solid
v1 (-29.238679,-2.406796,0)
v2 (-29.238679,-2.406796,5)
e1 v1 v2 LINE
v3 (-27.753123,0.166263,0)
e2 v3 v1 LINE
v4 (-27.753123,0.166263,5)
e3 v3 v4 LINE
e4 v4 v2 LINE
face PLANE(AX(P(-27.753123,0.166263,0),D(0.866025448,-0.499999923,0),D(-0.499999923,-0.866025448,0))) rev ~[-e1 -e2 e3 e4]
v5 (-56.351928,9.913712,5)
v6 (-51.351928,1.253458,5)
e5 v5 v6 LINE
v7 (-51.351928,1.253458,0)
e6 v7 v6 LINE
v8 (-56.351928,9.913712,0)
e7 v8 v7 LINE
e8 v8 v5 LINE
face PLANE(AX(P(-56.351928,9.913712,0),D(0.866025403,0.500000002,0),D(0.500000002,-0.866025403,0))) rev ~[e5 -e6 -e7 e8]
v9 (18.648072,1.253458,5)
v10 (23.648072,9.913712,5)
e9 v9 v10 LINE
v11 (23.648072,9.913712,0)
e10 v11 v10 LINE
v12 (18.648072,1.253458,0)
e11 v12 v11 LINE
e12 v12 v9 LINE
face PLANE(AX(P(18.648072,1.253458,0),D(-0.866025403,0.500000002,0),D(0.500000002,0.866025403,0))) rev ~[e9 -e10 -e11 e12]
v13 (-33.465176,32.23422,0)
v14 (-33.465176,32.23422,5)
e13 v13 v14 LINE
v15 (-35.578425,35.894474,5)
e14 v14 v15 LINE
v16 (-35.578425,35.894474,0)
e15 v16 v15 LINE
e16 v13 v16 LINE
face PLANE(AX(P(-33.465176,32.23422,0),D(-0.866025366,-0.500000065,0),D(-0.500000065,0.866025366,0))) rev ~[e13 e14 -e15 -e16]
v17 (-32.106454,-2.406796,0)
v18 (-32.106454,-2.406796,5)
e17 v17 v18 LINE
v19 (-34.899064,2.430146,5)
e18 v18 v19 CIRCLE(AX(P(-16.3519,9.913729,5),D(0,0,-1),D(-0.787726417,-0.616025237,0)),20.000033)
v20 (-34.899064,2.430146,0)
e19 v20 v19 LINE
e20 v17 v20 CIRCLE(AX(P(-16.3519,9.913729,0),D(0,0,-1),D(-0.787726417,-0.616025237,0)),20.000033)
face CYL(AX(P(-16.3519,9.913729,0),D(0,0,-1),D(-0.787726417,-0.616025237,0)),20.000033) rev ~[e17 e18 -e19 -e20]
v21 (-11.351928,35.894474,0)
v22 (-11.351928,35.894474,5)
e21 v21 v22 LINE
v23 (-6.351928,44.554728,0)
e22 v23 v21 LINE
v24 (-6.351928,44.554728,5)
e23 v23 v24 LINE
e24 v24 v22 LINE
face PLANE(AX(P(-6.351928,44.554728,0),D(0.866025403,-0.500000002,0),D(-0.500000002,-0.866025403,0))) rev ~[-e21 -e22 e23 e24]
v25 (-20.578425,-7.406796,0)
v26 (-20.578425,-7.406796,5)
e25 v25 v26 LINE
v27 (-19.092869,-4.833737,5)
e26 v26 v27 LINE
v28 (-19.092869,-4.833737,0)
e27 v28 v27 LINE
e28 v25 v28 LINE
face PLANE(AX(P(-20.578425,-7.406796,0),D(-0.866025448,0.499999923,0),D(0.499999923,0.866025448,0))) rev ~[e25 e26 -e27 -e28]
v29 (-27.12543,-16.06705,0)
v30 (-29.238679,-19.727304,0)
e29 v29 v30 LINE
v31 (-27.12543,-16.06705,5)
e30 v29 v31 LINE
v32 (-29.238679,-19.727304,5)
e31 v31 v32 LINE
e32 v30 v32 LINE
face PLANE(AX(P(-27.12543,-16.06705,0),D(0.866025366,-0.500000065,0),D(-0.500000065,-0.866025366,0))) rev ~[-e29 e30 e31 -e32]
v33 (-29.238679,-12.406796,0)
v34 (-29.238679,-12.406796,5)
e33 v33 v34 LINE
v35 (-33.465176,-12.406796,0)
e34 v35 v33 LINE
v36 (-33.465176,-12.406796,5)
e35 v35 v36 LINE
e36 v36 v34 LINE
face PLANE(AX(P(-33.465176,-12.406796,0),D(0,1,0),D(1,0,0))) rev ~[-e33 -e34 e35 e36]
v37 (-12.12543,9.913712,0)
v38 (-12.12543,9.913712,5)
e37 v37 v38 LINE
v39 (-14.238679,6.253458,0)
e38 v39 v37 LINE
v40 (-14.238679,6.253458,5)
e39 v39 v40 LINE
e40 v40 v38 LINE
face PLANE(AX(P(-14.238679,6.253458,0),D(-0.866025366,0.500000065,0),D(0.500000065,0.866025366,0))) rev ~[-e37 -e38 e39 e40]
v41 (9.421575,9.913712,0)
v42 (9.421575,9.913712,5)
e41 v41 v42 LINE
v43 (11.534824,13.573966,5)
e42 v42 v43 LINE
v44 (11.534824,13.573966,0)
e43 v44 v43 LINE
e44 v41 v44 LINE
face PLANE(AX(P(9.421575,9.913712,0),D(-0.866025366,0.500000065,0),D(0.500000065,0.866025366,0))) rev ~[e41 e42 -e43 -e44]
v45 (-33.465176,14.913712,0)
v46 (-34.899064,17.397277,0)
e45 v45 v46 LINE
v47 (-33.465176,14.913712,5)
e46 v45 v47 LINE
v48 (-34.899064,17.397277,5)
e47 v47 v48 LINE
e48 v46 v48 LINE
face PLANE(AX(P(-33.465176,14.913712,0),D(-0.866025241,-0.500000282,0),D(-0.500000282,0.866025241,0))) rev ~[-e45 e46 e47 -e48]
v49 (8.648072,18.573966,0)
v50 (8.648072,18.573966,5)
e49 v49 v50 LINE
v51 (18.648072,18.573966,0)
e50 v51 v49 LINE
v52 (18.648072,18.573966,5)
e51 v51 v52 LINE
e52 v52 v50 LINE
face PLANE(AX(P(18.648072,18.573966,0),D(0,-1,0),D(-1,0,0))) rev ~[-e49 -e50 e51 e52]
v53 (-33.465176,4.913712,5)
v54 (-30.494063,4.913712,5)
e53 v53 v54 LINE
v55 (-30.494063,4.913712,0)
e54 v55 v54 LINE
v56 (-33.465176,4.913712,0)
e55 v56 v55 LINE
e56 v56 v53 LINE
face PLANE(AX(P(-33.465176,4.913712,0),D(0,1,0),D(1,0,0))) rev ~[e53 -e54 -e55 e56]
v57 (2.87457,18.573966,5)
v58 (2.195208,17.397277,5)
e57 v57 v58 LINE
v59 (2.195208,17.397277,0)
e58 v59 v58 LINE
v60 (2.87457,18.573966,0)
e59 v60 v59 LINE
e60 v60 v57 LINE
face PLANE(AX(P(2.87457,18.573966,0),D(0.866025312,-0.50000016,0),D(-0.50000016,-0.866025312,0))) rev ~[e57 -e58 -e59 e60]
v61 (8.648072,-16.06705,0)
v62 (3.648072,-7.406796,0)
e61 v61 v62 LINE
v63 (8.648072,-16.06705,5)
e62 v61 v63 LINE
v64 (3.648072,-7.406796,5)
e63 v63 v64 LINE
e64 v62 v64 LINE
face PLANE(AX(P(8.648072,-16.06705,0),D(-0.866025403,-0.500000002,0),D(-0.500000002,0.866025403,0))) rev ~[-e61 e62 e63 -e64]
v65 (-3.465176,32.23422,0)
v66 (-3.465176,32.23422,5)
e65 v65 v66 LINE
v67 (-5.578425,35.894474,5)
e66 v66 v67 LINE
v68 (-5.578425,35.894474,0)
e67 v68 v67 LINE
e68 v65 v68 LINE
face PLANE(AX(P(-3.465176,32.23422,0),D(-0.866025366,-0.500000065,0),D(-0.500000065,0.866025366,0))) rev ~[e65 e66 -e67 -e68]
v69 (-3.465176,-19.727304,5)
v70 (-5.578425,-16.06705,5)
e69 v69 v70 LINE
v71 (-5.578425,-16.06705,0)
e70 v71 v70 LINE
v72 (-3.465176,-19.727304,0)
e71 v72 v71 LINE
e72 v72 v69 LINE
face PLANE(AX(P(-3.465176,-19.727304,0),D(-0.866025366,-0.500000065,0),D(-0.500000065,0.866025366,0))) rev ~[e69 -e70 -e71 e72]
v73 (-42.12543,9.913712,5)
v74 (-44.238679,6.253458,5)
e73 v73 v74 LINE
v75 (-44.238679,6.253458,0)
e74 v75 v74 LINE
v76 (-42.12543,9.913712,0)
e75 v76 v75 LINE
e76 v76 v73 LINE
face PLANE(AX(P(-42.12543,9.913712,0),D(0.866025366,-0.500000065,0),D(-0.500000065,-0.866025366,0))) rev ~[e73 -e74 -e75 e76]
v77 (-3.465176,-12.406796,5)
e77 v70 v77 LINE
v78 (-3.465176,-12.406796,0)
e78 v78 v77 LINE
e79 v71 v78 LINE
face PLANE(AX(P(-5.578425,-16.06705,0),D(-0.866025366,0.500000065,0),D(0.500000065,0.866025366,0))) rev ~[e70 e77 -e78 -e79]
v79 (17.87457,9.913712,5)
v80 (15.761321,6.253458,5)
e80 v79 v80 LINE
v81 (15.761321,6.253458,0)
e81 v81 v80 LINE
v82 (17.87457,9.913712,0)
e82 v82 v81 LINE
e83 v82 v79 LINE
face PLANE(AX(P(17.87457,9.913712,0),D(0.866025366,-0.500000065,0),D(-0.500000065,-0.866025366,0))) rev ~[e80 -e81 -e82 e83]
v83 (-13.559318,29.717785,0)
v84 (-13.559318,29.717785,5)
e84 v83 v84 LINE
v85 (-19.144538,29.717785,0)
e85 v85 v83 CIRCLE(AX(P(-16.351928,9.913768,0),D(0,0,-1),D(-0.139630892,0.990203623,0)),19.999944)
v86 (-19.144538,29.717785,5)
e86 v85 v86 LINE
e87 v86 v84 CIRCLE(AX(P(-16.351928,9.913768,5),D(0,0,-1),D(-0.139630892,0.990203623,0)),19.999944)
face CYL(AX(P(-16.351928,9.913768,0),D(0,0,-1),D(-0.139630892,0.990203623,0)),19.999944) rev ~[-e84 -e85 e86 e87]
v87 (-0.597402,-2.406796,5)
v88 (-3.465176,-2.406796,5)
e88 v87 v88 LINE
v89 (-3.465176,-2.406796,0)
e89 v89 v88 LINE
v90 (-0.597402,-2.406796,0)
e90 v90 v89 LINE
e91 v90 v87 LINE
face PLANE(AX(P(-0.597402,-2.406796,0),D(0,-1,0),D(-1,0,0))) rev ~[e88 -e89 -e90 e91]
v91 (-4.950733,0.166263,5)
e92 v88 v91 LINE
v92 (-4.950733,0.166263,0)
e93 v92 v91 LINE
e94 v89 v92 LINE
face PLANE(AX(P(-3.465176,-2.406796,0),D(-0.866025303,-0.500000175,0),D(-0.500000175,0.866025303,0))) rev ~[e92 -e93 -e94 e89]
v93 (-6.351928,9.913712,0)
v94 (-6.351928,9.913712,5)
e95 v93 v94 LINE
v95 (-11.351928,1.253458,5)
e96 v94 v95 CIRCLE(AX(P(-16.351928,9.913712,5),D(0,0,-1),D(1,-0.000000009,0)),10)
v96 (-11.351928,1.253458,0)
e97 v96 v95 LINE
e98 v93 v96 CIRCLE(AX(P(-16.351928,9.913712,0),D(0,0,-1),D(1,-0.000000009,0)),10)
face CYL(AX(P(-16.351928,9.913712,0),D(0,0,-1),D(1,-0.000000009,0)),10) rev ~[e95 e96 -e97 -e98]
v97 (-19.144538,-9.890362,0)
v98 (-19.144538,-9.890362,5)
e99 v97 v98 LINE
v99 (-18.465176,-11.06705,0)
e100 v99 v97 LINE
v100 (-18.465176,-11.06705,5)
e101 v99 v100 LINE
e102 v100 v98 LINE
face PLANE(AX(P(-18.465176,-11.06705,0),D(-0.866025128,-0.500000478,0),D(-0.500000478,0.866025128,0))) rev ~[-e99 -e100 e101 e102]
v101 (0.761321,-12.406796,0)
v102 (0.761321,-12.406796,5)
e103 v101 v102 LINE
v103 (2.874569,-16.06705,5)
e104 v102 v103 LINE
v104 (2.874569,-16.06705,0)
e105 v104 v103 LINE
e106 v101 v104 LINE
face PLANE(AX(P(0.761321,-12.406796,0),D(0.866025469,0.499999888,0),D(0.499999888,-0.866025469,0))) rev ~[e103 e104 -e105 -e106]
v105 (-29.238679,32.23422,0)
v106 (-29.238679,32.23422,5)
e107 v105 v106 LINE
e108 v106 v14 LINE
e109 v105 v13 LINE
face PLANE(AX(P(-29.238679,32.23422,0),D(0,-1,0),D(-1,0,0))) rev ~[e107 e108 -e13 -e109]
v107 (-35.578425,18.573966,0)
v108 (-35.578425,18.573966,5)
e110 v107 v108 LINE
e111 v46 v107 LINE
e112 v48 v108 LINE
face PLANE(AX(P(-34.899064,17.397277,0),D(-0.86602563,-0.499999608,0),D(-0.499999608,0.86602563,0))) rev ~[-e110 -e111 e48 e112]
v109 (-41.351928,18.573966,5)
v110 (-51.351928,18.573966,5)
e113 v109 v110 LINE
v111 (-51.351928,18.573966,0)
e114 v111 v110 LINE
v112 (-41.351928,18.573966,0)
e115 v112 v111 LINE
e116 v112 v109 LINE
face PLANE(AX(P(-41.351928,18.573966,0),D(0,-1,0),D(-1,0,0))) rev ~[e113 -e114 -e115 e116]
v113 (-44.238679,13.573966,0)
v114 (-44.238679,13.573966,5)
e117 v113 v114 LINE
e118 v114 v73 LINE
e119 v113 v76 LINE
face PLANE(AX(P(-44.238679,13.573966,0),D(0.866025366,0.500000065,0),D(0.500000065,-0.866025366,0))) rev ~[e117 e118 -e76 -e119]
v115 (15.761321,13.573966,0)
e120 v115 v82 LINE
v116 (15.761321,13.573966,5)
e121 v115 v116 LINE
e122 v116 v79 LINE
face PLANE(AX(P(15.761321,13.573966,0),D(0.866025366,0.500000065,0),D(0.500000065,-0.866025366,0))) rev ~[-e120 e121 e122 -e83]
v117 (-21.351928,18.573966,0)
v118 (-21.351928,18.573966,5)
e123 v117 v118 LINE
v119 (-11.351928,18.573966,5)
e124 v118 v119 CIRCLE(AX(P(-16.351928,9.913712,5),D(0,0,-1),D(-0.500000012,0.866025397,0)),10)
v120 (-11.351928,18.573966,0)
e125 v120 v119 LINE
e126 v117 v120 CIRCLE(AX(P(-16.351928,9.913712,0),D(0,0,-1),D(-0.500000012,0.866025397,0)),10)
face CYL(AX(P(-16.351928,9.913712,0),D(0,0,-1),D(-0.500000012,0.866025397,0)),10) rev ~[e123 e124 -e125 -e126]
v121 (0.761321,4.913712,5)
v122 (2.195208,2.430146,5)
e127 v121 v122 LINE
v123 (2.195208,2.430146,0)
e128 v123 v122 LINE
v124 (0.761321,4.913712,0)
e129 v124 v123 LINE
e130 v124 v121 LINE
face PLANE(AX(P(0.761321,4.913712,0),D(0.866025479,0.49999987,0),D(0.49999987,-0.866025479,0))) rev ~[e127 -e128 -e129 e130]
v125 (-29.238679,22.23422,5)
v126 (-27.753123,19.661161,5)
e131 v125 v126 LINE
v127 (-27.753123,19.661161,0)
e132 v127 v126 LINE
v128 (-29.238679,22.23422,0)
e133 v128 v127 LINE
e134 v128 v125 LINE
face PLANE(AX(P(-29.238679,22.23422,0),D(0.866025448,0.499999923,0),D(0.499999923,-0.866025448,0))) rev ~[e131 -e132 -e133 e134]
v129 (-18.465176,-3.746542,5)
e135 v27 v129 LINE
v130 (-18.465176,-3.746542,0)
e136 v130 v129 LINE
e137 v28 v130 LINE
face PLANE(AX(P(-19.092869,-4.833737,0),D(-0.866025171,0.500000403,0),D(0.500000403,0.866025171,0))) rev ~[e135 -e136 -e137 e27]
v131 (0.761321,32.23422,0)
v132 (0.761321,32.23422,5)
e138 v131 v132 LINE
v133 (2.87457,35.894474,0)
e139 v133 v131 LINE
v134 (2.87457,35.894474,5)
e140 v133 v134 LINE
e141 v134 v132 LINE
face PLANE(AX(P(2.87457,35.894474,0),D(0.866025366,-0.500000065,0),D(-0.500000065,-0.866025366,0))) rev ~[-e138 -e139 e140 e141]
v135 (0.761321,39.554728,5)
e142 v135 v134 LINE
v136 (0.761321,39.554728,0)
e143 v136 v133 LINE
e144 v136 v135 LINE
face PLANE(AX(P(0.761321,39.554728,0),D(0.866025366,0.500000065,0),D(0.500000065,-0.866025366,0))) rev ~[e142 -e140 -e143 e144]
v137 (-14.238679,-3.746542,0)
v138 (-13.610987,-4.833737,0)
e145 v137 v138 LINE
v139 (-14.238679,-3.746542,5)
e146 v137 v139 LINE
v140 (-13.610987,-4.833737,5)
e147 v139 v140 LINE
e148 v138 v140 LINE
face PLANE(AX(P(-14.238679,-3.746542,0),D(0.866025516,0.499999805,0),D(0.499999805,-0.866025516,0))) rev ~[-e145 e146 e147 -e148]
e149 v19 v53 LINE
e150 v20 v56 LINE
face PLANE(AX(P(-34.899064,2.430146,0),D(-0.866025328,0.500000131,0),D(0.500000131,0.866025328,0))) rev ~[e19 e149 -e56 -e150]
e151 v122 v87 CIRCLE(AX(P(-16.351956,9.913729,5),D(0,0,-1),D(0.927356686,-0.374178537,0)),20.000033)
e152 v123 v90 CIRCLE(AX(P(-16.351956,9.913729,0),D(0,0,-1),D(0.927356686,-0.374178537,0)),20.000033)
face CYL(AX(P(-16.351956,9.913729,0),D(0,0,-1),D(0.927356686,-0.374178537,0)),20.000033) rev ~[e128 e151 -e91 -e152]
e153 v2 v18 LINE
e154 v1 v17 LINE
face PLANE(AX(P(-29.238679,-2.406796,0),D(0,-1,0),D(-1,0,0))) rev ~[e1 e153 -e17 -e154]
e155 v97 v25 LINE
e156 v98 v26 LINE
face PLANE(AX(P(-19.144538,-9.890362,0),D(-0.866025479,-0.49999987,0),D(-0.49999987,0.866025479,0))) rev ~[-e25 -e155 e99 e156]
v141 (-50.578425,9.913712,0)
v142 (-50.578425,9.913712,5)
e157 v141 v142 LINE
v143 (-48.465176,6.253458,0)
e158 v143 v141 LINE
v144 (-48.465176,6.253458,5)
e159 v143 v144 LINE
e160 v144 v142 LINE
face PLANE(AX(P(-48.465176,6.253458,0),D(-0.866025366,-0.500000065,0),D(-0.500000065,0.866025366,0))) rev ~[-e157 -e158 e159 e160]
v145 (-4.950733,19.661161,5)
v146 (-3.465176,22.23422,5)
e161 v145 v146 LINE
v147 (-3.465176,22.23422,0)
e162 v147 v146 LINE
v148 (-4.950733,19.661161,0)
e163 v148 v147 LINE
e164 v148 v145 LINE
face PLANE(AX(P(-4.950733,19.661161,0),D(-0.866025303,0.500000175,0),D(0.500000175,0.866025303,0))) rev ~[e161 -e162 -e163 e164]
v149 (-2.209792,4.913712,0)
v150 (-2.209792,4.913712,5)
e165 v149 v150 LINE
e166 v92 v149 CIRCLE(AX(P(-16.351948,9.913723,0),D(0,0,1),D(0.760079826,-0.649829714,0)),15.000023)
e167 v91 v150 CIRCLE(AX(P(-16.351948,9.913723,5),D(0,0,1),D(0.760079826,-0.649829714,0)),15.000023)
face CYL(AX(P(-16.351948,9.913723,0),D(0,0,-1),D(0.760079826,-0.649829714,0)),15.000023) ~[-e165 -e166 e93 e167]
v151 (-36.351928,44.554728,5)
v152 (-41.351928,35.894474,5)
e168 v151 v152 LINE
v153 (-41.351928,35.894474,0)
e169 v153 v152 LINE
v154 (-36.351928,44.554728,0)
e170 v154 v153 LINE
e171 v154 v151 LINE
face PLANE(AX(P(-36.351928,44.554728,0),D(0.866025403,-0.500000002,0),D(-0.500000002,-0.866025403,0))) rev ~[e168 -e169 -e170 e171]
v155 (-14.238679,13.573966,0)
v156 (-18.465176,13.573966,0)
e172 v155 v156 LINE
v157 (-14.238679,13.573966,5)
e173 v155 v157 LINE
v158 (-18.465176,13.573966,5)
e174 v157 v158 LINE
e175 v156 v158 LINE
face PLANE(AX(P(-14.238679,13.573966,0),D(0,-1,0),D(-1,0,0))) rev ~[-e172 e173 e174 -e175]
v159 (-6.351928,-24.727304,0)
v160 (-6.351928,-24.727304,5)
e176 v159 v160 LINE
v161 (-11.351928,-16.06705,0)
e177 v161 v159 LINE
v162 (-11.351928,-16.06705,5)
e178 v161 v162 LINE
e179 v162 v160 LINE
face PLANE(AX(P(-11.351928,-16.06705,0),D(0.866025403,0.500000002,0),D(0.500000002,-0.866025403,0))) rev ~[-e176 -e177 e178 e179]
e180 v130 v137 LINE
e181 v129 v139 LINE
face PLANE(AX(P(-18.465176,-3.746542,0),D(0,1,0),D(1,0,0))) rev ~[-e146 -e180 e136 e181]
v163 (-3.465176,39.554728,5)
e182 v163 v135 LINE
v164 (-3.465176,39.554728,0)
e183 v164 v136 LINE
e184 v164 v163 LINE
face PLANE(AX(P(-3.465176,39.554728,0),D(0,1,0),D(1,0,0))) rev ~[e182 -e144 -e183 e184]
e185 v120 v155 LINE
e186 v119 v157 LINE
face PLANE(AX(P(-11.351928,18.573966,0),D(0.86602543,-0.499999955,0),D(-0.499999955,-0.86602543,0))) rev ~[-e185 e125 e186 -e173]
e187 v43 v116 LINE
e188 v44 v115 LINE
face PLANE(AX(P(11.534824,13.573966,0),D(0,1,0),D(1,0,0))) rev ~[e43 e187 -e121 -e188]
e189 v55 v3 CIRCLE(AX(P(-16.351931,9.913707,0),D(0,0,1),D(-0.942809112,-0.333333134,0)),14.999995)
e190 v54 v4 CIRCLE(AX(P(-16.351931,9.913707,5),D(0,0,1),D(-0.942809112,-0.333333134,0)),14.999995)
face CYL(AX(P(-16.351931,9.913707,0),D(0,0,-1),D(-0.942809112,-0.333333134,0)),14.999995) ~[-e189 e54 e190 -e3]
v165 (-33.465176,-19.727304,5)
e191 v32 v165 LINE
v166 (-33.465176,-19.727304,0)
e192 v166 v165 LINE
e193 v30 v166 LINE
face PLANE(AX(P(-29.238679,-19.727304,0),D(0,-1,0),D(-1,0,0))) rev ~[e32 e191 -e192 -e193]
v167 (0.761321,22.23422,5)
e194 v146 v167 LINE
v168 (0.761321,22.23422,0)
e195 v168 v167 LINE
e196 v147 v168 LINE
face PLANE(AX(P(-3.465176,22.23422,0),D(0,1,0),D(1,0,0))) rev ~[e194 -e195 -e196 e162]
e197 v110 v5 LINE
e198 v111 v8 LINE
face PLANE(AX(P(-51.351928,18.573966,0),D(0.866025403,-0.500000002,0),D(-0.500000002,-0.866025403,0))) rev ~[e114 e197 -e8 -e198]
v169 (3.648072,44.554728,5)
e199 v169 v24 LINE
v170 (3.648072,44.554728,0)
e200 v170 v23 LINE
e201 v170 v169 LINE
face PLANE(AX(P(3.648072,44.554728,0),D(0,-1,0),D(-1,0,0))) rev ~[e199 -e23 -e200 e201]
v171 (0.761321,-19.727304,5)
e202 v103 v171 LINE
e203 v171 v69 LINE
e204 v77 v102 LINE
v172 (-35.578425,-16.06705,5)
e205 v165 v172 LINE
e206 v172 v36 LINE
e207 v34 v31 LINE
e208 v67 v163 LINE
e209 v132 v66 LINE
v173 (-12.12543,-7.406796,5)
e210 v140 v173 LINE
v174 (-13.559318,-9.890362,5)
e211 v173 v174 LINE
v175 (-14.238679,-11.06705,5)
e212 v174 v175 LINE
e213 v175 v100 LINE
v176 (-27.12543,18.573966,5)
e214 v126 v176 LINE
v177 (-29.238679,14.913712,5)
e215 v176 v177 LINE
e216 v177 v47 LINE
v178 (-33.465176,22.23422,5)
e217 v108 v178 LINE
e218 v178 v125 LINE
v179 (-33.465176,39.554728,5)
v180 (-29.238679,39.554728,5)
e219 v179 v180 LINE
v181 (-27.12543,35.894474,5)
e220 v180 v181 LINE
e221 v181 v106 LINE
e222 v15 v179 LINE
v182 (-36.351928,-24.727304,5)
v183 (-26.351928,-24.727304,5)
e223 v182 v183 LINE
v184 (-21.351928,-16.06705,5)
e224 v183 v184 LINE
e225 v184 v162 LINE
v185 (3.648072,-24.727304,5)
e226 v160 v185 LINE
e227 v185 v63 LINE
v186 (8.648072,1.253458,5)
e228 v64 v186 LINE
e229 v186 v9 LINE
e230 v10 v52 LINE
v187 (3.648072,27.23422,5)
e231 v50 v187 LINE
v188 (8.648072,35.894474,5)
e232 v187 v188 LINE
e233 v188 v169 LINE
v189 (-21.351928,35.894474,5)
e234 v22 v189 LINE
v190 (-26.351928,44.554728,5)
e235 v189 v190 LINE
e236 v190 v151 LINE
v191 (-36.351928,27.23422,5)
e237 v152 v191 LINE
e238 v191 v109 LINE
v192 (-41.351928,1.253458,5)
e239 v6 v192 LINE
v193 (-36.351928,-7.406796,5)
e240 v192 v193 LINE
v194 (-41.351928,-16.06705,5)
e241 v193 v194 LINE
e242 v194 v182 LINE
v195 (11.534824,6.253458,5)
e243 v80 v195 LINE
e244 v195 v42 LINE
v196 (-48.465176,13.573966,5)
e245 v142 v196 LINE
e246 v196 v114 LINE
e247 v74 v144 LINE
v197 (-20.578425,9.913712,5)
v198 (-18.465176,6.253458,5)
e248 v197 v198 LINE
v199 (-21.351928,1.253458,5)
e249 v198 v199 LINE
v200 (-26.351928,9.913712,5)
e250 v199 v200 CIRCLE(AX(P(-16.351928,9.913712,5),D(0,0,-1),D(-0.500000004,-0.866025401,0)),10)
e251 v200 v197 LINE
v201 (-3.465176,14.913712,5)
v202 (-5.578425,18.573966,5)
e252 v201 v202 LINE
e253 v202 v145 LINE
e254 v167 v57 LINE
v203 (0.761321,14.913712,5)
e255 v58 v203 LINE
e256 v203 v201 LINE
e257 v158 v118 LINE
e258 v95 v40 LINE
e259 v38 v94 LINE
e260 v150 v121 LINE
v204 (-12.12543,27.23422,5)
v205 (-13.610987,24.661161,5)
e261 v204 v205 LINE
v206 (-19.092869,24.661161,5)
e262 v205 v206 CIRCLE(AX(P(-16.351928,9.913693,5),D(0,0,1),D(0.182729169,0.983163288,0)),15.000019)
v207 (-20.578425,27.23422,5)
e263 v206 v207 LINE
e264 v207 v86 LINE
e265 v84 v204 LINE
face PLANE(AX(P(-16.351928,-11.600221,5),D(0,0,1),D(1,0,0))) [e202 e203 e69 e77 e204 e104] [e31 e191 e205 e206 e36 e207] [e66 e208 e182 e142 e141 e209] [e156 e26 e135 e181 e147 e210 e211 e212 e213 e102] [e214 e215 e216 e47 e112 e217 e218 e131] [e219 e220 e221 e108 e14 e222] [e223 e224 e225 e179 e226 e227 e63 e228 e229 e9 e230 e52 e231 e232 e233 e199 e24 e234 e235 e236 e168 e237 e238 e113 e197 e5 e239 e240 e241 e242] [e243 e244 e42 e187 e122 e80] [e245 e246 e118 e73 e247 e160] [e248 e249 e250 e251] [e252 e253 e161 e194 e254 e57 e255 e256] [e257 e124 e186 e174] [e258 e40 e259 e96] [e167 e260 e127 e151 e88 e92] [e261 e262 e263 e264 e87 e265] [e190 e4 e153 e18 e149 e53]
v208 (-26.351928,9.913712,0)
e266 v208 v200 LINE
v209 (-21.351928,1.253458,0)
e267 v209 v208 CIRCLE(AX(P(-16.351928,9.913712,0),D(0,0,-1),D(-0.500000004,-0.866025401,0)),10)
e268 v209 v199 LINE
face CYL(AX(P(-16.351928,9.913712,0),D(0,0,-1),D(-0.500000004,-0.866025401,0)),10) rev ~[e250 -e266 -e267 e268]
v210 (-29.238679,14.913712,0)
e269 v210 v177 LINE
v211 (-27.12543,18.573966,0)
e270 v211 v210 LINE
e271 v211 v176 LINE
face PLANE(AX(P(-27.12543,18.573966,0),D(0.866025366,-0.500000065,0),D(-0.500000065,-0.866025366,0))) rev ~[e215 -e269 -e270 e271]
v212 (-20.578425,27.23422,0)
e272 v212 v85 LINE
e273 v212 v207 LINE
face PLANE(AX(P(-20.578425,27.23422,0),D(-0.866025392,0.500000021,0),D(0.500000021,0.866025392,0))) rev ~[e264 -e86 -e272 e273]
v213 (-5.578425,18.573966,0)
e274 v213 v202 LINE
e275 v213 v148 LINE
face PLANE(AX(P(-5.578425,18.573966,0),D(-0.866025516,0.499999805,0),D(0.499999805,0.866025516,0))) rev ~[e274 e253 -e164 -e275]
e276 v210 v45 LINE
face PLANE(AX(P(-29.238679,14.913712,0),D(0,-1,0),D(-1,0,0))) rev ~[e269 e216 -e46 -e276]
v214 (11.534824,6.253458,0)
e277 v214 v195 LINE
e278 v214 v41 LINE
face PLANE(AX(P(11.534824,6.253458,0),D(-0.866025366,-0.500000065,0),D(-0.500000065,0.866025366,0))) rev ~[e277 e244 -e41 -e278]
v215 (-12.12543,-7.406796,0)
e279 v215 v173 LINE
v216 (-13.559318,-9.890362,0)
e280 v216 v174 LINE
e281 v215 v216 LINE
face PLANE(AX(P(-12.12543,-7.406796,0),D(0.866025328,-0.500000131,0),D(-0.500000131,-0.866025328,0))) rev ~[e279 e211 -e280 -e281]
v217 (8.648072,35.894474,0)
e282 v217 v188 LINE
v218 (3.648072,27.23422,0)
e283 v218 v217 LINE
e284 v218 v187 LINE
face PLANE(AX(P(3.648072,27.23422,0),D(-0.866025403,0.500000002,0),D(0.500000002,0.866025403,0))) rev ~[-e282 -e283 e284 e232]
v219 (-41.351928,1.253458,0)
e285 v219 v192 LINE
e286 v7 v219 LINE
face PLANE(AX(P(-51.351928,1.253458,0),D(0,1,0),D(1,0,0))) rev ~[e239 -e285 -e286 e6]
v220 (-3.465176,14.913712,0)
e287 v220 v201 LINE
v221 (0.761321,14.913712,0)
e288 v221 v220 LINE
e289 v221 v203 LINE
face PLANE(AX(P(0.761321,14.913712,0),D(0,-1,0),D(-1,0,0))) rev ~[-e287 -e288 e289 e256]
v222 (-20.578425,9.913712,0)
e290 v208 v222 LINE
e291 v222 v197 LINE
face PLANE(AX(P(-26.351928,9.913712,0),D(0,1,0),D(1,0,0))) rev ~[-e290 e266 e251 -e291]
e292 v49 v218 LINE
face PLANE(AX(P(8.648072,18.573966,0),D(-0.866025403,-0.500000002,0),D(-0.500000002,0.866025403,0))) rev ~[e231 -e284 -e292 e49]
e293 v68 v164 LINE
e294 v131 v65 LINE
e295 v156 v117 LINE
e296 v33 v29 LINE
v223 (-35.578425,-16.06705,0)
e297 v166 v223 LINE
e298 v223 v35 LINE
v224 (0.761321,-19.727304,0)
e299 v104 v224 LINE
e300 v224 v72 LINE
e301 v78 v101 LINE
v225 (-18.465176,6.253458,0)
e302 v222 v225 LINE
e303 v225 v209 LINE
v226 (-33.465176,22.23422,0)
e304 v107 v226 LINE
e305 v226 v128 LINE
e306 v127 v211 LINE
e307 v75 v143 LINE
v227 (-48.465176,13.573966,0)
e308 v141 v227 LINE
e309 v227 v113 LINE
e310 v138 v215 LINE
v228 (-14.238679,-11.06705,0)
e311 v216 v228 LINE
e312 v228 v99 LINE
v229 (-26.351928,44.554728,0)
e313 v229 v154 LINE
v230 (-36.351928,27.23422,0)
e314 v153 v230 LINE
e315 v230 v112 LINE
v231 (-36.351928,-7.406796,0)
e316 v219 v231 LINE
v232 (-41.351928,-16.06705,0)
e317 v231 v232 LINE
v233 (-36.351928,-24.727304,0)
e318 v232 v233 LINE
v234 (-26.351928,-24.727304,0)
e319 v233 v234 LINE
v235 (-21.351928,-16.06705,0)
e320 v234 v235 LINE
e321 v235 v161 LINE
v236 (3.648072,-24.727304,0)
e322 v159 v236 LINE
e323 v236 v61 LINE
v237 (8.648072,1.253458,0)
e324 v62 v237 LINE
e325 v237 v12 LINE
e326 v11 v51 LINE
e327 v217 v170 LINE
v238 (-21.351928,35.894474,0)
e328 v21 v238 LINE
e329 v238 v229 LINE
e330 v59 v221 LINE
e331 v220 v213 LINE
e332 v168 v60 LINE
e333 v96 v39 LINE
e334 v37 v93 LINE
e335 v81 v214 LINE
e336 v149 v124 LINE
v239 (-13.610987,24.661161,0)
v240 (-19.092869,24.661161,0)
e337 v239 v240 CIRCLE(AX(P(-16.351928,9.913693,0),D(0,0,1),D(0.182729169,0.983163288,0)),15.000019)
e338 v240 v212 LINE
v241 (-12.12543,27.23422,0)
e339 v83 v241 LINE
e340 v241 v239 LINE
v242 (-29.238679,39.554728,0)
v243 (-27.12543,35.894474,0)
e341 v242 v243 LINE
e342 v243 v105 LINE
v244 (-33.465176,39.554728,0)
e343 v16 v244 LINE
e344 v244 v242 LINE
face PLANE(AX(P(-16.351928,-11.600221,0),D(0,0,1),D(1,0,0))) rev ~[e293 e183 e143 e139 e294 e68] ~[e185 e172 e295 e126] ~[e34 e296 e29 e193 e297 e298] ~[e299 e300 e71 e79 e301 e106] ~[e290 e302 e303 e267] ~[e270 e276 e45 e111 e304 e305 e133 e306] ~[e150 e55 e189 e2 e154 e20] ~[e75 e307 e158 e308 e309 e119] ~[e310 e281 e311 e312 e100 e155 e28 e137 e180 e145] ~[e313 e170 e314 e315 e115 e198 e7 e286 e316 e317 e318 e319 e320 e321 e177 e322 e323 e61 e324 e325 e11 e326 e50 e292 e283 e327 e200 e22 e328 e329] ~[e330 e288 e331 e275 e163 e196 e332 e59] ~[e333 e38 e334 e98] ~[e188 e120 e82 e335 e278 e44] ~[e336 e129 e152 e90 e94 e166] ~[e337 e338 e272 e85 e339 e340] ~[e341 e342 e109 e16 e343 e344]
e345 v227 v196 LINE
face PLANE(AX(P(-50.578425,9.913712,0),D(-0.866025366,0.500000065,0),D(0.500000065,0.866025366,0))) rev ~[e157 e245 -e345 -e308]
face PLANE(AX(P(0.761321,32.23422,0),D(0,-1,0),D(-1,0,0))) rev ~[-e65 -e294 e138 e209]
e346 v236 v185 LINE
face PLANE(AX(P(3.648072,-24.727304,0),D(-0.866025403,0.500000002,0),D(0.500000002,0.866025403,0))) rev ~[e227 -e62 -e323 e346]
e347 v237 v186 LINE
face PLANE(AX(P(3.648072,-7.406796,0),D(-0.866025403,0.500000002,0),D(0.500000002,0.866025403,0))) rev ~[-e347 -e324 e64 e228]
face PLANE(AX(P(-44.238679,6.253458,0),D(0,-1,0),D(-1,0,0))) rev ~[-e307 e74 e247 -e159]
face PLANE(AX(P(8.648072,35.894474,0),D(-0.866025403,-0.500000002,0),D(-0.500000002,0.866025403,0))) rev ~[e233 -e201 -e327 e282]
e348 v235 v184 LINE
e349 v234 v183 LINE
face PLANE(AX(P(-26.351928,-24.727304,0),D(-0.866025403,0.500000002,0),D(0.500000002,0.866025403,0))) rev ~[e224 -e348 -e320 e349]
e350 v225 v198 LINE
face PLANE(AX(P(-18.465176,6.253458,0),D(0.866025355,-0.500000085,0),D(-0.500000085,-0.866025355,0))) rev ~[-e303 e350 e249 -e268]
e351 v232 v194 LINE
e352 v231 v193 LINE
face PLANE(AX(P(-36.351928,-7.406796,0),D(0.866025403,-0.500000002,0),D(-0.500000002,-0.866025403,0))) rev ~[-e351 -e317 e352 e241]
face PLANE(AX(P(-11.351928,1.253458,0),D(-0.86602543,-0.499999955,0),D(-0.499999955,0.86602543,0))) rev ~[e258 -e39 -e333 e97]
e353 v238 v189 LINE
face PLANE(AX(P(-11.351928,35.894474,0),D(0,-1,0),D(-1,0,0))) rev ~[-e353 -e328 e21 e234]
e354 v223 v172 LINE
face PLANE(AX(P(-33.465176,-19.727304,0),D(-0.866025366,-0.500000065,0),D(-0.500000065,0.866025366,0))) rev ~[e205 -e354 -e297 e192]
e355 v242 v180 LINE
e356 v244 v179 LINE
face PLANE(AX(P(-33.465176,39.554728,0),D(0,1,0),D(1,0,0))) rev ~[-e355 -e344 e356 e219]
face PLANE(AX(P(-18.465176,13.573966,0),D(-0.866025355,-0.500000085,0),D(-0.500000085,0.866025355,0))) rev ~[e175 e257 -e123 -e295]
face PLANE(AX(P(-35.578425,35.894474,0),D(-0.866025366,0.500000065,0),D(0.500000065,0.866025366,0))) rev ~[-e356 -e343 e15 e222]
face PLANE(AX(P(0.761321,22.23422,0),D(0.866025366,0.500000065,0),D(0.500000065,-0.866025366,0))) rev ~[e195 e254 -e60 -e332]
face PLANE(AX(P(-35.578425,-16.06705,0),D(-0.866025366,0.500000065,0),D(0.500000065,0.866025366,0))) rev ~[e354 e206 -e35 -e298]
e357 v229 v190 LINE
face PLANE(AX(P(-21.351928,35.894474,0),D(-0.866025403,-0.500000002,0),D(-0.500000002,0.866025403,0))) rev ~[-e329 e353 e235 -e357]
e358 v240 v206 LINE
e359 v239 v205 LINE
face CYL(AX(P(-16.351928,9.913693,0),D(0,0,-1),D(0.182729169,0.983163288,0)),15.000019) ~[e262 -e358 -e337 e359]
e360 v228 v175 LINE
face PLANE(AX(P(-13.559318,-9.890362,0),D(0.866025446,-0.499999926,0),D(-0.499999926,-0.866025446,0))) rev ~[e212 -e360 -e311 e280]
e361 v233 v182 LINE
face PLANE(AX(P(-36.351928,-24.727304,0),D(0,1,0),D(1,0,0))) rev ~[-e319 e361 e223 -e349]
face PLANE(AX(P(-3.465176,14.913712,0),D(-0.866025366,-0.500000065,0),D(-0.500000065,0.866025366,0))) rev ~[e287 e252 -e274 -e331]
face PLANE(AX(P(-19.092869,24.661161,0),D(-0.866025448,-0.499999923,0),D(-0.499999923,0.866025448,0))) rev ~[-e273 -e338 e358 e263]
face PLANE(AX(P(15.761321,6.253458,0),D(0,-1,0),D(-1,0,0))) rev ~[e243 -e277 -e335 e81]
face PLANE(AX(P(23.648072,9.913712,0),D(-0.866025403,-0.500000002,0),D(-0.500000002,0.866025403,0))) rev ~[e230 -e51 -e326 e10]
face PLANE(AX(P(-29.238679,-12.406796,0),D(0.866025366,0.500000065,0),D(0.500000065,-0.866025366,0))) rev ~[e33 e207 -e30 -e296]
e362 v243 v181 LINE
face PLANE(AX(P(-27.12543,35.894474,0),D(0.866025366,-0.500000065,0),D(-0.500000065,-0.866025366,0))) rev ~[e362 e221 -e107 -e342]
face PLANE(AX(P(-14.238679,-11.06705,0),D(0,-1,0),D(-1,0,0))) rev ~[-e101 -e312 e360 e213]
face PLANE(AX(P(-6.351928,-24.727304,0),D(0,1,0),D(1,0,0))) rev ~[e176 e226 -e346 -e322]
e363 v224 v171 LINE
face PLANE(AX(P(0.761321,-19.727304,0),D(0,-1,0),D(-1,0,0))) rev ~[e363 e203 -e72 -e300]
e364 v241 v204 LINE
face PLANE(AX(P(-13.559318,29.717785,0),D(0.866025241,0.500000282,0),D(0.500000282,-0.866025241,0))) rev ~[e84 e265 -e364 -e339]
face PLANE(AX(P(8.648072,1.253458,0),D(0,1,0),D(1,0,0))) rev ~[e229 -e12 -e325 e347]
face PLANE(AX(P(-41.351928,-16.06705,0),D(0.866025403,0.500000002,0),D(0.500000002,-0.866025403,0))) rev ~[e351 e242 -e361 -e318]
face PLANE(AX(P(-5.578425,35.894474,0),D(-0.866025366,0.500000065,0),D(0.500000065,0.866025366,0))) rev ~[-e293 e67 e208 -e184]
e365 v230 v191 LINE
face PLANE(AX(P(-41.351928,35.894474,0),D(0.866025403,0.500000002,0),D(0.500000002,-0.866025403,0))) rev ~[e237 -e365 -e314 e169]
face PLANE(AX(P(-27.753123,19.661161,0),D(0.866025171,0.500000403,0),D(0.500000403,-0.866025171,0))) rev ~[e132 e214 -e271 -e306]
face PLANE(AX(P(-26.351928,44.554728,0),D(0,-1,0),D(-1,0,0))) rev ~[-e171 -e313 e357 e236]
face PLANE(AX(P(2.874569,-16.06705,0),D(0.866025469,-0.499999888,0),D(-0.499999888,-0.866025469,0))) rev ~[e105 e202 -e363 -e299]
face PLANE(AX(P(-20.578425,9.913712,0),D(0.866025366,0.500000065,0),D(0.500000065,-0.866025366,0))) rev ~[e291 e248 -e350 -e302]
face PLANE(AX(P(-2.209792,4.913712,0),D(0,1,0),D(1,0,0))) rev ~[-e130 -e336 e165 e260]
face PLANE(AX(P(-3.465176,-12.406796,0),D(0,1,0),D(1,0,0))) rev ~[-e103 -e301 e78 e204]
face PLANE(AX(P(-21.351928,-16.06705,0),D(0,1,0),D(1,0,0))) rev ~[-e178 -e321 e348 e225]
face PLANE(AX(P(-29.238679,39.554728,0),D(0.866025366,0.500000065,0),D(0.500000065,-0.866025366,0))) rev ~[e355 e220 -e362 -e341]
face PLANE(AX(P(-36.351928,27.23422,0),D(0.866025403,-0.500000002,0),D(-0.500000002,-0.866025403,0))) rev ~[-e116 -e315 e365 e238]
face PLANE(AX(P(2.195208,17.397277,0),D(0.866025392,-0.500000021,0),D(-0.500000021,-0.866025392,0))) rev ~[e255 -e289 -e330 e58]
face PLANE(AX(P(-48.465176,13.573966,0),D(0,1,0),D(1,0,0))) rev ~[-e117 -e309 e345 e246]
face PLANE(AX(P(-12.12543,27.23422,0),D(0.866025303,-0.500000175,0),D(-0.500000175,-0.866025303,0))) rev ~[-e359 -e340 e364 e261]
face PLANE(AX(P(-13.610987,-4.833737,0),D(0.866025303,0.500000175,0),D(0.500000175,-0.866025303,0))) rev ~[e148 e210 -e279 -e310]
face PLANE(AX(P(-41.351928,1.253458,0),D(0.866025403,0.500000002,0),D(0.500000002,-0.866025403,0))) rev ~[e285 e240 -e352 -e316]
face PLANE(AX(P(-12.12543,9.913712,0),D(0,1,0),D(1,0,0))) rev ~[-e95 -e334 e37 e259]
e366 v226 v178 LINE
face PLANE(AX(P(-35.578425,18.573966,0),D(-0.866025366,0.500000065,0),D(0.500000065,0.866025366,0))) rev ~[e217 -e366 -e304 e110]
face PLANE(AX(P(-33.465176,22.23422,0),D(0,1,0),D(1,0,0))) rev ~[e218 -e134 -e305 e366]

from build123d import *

# Parameters (mm, degrees)
F1_DEPTH = 5


with BuildPart() as f1:
    # F0 (on Top) → F1 (new body)
    with BuildSketch(Plane.XY):
        with BuildLine():
            Line((-11.351928, -16.06705), (-6.351928, -7.406796))
            ThreePointArc((-6.351928, -7.406796), (-9.836197, -8.995155), (-13.559318, -9.890362))
            Line((-13.559318, -9.890362), (-14.238679, -11.06705))
            Line((-14.238679, -11.06705), (-18.465176, -11.06705))
            Line((-18.465176, -11.06705), (-19.144538, -9.890362))
            ThreePointArc((-19.144538, -9.890362), (-22.867658, -8.995155), (-26.351928, -7.406796))
            Line((-26.351928, -7.406796), (-21.351928, -16.06705))
            Line((-21.351928, -16.06705), (-11.351928, -16.06705))
        make_face()
        Polygon((-21.351928, 18.573966), (-26.351928, 9.913712), (-20.578425, 9.913712), (-18.465176, 13.573966), align=None)
        with BuildLine():
            Line((-41.351928, 18.573966), (-36.351928, 9.913712))
            ThreePointArc((-36.351928, 9.913712), (-35.985352, 13.725357), (-34.899064, 17.397277))
            Line((-34.899064, 17.397277), (-35.578425, 18.573966))
            Line((-35.578425, 18.573966), (-33.465176, 22.23422))
            Line((-33.465176, 22.23422), (-32.106454, 22.23422))
            ThreePointArc((-32.106454, 22.23422), (-29.469622, 25.010934), (-26.351928, 27.23422))
            Line((-26.351928, 27.23422), (-36.351928, 27.23422))
            Line((-36.351928, 27.23422), (-41.351928, 18.573966))
        make_face()
        Polygon((-36.351928, 27.23422), (-26.351928, 27.23422), (-21.351928, 35.894474), (-26.351928, 44.554728), (-36.351928, 44.554728), (-41.351928, 35.894474), align=None)
        Polygon((-33.465176, 39.554728), (-29.238679, 39.554728), (-27.12543, 35.894474), (-29.238679, 32.23422), (-33.465176, 32.23422), (-35.578425, 35.894474), align=None, mode=Mode.SUBTRACT)
        Polygon((-41.351928, 1.253458), (-36.351928, 9.913712), (-41.351928, 18.573966), (-51.351928, 18.573966), (-56.351928, 9.913712), (-51.351928, 1.253458), align=None)
        Polygon((-50.578425, 9.913712), (-48.465176, 13.573966), (-44.238679, 13.573966), (-42.12543, 9.913712), (-44.238679, 6.253458), (-48.465176, 6.253458), align=None, mode=Mode.SUBTRACT)
        with BuildLine():
            ThreePointArc((-11.351928, 18.573966), (-7.691674, 14.913712), (-6.351928, 9.913712))
            Line((-6.351928, 9.913712), (-1.351928, 9.913712))
            ThreePointArc((-1.351928, 9.913712), (-1.567949, 12.450242), (-2.209792, 14.913712))
            Line((-2.209792, 14.913712), (-3.465176, 14.913712))
            Line((-3.465176, 14.913712), (-5.578425, 18.573966))
            Line((-5.578425, 18.573966), (-4.950733, 19.661161))
            ThreePointArc((-4.950733, 19.661161), (-6.763239, 21.448748), (-8.851928, 22.904093))
            Line((-8.851928, 22.904093), (-11.351928, 18.573966))
        make_face()
        Polygon((-11.351928, 35.894474), (-6.351928, 27.23422), (3.648072, 27.23422), (8.648072, 35.894474), (3.648072, 44.554728), (-6.351928, 44.554728), align=None)
        Polygon((-5.578425, 35.894474), (-3.465176, 39.554728), (0.761321, 39.554728), (2.87457, 35.894474), (0.761321, 32.23422), (-3.465176, 32.23422), align=None, mode=Mode.SUBTRACT)
        Polygon((8.648072, 18.573966), (3.648072, 9.913712), (8.648072, 1.253458), (18.648072, 1.253458), (23.648072, 9.913712), (18.648072, 18.573966), align=None)
        Polygon((15.761321, 13.573966), (17.87457, 9.913712), (15.761321, 6.253458), (11.534824, 6.253458), (9.421575, 9.913712), (11.534824, 13.573966), align=None, mode=Mode.SUBTRACT)
        Polygon((-12.12543, 9.913712), (-6.351928, 9.913712), (-11.351928, 18.573966), (-14.238679, 13.573966), align=None)
        Polygon((3.648072, -7.406796), (-6.351928, -7.406796), (-11.351928, -16.06705), (-6.351928, -24.727304), (3.648072, -24.727304), (8.648072, -16.06705), align=None)
        Polygon((0.761321, -12.406796), (2.874569, -16.06705), (0.761321, -19.727304), (-3.465176, -19.727304), (-5.578425, -16.06705), (-3.465176, -12.406796), align=None, mode=Mode.SUBTRACT)
        with BuildLine():
            Line((-31.351928, 9.913712), (-26.351928, 9.913712))
            ThreePointArc((-26.351928, 9.913712), (-25.012182, 14.913712), (-21.351928, 18.573966))
            Line((-21.351928, 18.573966), (-23.851928, 22.904093))
            ThreePointArc((-23.851928, 22.904093), (-25.940616, 21.448748), (-27.753123, 19.661161))
            Line((-27.753123, 19.661161), (-27.12543, 18.573966))
            Line((-27.12543, 18.573966), (-29.238679, 14.913712))
            Line((-29.238679, 14.913712), (-30.494063, 14.913712))
            ThreePointArc((-30.494063, 14.913712), (-31.135906, 12.450242), (-31.351928, 9.913712))
        make_face()
        Polygon((-21.351928, -16.06705), (-26.351928, -7.406796), (-36.351928, -7.406796), (-41.351928, -16.06705), (-36.351928, -24.727304), (-26.351928, -24.727304), align=None)
        Polygon((-33.465176, -19.727304), (-35.578425, -16.06705), (-33.465176, -12.406796), (-29.238679, -12.406796), (-27.12543, -16.06705), (-29.238679, -19.727304), align=None, mode=Mode.SUBTRACT)
        with BuildLine():
            Line((-36.351928, -7.406796), (-26.351928, -7.406796))
            ThreePointArc((-26.351928, -7.406796), (-29.469622, -5.18351), (-32.106454, -2.406796))
            Line((-32.106454, -2.406796), (-33.465176, -2.406796))
            Line((-33.465176, -2.406796), (-35.578425, 1.253458))
            Line((-35.578425, 1.253458), (-34.899064, 2.430146))
            ThreePointArc((-34.899064, 2.430146), (-35.985352, 6.102066), (-36.351928, 9.913712))
            Line((-36.351928, 9.913712), (-41.351928, 1.253458))
            Line((-41.351928, 1.253458), (-36.351928, -7.406796))
        make_face()
        with BuildLine():
            ThreePointArc((2.195208, 17.397277), (3.281497, 13.725357), (3.648072, 9.913712))
            Line((3.648072, 9.913712), (8.648072, 18.573966))
            Line((8.648072, 18.573966), (3.648072, 27.23422))
            Line((3.648072, 27.23422), (-6.351928, 27.23422))
            ThreePointArc((-6.351928, 27.23422), (-3.234234, 25.010934), (-0.597402, 22.23422))
            Line((-0.597402, 22.23422), (0.761321, 22.23422))
            Line((0.761321, 22.23422), (2.87457, 18.573966))
            Line((2.87457, 18.573966), (2.195208, 17.397277))
        make_face()
        with BuildLine():
            ThreePointArc((-13.559318, 29.717785), (-9.836197, 28.822579), (-6.351928, 27.23422))
            Line((-6.351928, 27.23422), (-11.351928, 35.894474))
            Line((-11.351928, 35.894474), (-21.351928, 35.894474))
            Line((-21.351928, 35.894474), (-26.351928, 27.23422))
            ThreePointArc((-26.351928, 27.23422), (-22.867658, 28.822579), (-19.144538, 29.717785))
            Line((-19.144538, 29.717785), (-18.465176, 30.894474))
            Line((-18.465176, 30.894474), (-14.238679, 30.894474))
            Line((-14.238679, 30.894474), (-13.559318, 29.717785))
        make_face()
        with BuildLine():
            ThreePointArc((-0.597402, -2.406796), (-3.234234, -5.18351), (-6.351928, -7.406796))
            Line((-6.351928, -7.406796), (3.648072, -7.406796))
            Line((3.648072, -7.406796), (8.648072, 1.253458))
            Line((8.648072, 1.253458), (3.648072, 9.913712))
            ThreePointArc((3.648072, 9.913712), (3.281497, 6.102066), (2.195208, 2.430146))
            Line((2.195208, 2.430146), (2.87457, 1.253458))
            Line((2.87457, 1.253458), (0.761321, -2.406796))
            Line((0.761321, -2.406796), (-0.597402, -2.406796))
        make_face()
        with BuildLine():
            Line((-26.351928, 27.23422), (-23.851928, 22.904093))
            ThreePointArc((-23.851928, 22.904093), (-21.547218, 23.985278), (-19.092869, 24.661161))
            Line((-19.092869, 24.661161), (-20.578425, 27.23422))
            Line((-20.578425, 27.23422), (-19.144538, 29.717785))
            ThreePointArc((-19.144538, 29.717785), (-22.867658, 28.822579), (-26.351928, 27.23422))
        make_face()
        with BuildLine():
            ThreePointArc((-30.494063, 4.913712), (-31.135906, 7.377182), (-31.351928, 9.913712))
            Line((-31.351928, 9.913712), (-36.351928, 9.913712))
            ThreePointArc((-36.351928, 9.913712), (-35.985352, 6.102066), (-34.899064, 2.430146))
            Line((-34.899064, 2.430146), (-33.465176, 4.913712))
            Line((-33.465176, 4.913712), (-30.494063, 4.913712))
        make_face()
        with BuildLine():
            ThreePointArc((-6.351928, 9.913712), (-7.691674, 4.913712), (-11.351928, 1.253458))
            Line((-11.351928, 1.253458), (-8.851928, -3.076669))
            ThreePointArc((-8.851928, -3.076669), (-6.763239, -1.621324), (-4.950733, 0.166263))
            Line((-4.950733, 0.166263), (-5.578425, 1.253458))
            Line((-5.578425, 1.253458), (-3.465176, 4.913712))
            Line((-3.465176, 4.913712), (-2.209792, 4.913712))
            ThreePointArc((-2.209792, 4.913712), (-1.567949, 7.377182), (-1.351928, 9.913712))
            Line((-1.351928, 9.913712), (-6.351928, 9.913712))
        make_face()
        with BuildLine():
            Line((-36.351928, 9.913712), (-31.351928, 9.913712))
            ThreePointArc((-31.351928, 9.913712), (-31.135906, 12.450242), (-30.494063, 14.913712))
            Line((-30.494063, 14.913712), (-33.465176, 14.913712))
            Line((-33.465176, 14.913712), (-34.899064, 17.397277))
            ThreePointArc((-34.899064, 17.397277), (-35.985352, 13.725357), (-36.351928, 9.913712))
        make_face()
        with BuildLine():
            Line((-8.851928, -3.076669), (-11.351928, 1.253458))
            ThreePointArc((-11.351928, 1.253458), (-16.351928, -0.086288), (-21.351928, 1.253458))
            Line((-21.351928, 1.253458), (-23.851928, -3.076669))
            ThreePointArc((-23.851928, -3.076669), (-21.547218, -4.157854), (-19.092869, -4.833737))
            Line((-19.092869, -4.833737), (-18.465176, -3.746542))
            Line((-18.465176, -3.746542), (-14.238679, -3.746542))
            Line((-14.238679, -3.746542), (-13.610987, -4.833737))
            ThreePointArc((-13.610987, -4.833737), (-11.156638, -4.157854), (-8.851928, -3.076669))
        make_face()
        with BuildLine():
            ThreePointArc((-13.610987, 24.661161), (-11.156638, 23.985278), (-8.851928, 22.904093))
            Line((-8.851928, 22.904093), (-6.351928, 27.23422))
            ThreePointArc((-6.351928, 27.23422), (-9.836197, 28.822579), (-13.559318, 29.717785))
            Line((-13.559318, 29.717785), (-12.12543, 27.23422))
            Line((-12.12543, 27.23422), (-13.610987, 24.661161))
        make_face()
        with BuildLine():
            Line((-23.851928, -3.076669), (-21.351928, 1.253458))
            ThreePointArc((-21.351928, 1.253458), (-25.012182, 4.913712), (-26.351928, 9.913712))
            Line((-26.351928, 9.913712), (-31.351928, 9.913712))
            ThreePointArc((-31.351928, 9.913712), (-31.135906, 7.377182), (-30.494063, 4.913712))
            Line((-30.494063, 4.913712), (-29.238679, 4.913712))
            Line((-29.238679, 4.913712), (-27.12543, 1.253458))
            Line((-27.12543, 1.253458), (-27.753123, 0.166263))
            ThreePointArc((-27.753123, 0.166263), (-25.940616, -1.621324), (-23.851928, -3.076669))
        make_face()
        with BuildLine():
            ThreePointArc((-21.351928, 18.573966), (-16.351928, 19.913712), (-11.351928, 18.573966))
            Line((-11.351928, 18.573966), (-8.851928, 22.904093))
            ThreePointArc((-8.851928, 22.904093), (-11.156638, 23.985278), (-13.610987, 24.661161))
            Line((-13.610987, 24.661161), (-14.238679, 23.573966))
            Line((-14.238679, 23.573966), (-18.465176, 23.573966))
            Line((-18.465176, 23.573966), (-19.092869, 24.661161))
            ThreePointArc((-19.092869, 24.661161), (-21.547218, 23.985278), (-23.851928, 22.904093))
            Line((-23.851928, 22.904093), (-21.351928, 18.573966))
        make_face()
        with BuildLine():
            Line((3.648072, 9.913712), (-1.351928, 9.913712))
            ThreePointArc((-1.351928, 9.913712), (-1.567949, 7.377182), (-2.209792, 4.913712))
            Line((-2.209792, 4.913712), (0.761321, 4.913712))
            Line((0.761321, 4.913712), (2.195208, 2.430146))
            ThreePointArc((2.195208, 2.430146), (3.281497, 6.102066), (3.648072, 9.913712))
        make_face()
        with BuildLine():
            ThreePointArc((-19.092869, -4.833737), (-21.547218, -4.157854), (-23.851928, -3.076669))
            Line((-23.851928, -3.076669), (-26.351928, -7.406796))
            ThreePointArc((-26.351928, -7.406796), (-22.867658, -8.995155), (-19.144538, -9.890362))
            Line((-19.144538, -9.890362), (-20.578425, -7.406796))
            Line((-20.578425, -7.406796), (-19.092869, -4.833737))
        make_face()
        with BuildLine():
            Line((-6.351928, -7.406796), (-8.851928, -3.076669))
            ThreePointArc((-8.851928, -3.076669), (-11.156638, -4.157854), (-13.610987, -4.833737))
            Line((-13.610987, -4.833737), (-12.12543, -7.406796))
            Line((-12.12543, -7.406796), (-13.559318, -9.890362))
            ThreePointArc((-13.559318, -9.890362), (-9.836197, -8.995155), (-6.351928, -7.406796))
        make_face()
        with BuildLine():
            ThreePointArc((-2.209792, 14.913712), (-1.567949, 12.450242), (-1.351928, 9.913712))
            Line((-1.351928, 9.913712), (3.648072, 9.913712))
            ThreePointArc((3.648072, 9.913712), (3.281497, 13.725357), (2.195208, 17.397277))
            Line((2.195208, 17.397277), (0.761321, 14.913712))
            Line((0.761321, 14.913712), (-2.209792, 14.913712))
        make_face()
        with BuildLine():
            Line((-26.351928, -7.406796), (-23.851928, -3.076669))
            ThreePointArc((-23.851928, -3.076669), (-25.940616, -1.621324), (-27.753123, 0.166263))
            Line((-27.753123, 0.166263), (-29.238679, -2.406796))
            Line((-29.238679, -2.406796), (-32.106454, -2.406796))
            ThreePointArc((-32.106454, -2.406796), (-29.469622, -5.18351), (-26.351928, -7.406796))
        make_face()
        with BuildLine():
            Line((-6.351928, 27.23422), (-8.851928, 22.904093))
            ThreePointArc((-8.851928, 22.904093), (-6.763239, 21.448748), (-4.950733, 19.661161))
            Line((-4.950733, 19.661161), (-3.465176, 22.23422))
            Line((-3.465176, 22.23422), (-0.597402, 22.23422))
            ThreePointArc((-0.597402, 22.23422), (-3.234234, 25.010934), (-6.351928, 27.23422))
        make_face()
        with BuildLine():
            ThreePointArc((-27.753123, 19.661161), (-25.940616, 21.448748), (-23.851928, 22.904093))
            Line((-23.851928, 22.904093), (-26.351928, 27.23422))
            ThreePointArc((-26.351928, 27.23422), (-29.469622, 25.010934), (-32.106454, 22.23422))
            Line((-32.106454, 22.23422), (-29.238679, 22.23422))
            Line((-29.238679, 22.23422), (-27.753123, 19.661161))
        make_face()
        Polygon((-21.351928, 1.253458), (-11.351928, 1.253458), (-14.238679, 6.253458), (-18.465176, 6.253458), align=None)
        with BuildLine():
            ThreePointArc((-4.950733, 0.166263), (-6.763239, -1.621324), (-8.851928, -3.076669))
            Line((-8.851928, -3.076669), (-6.351928, -7.406796))
            ThreePointArc((-6.351928, -7.406796), (-3.234234, -5.18351), (-0.597402, -2.406796))
            Line((-0.597402, -2.406796), (-3.465176, -2.406796))
            Line((-3.465176, -2.406796), (-4.950733, 0.166263))
        make_face()
        Polygon((-16.351928, 9.913712), (-12.12543, 9.913712), (-14.238679, 13.573966), align=None)
        Polygon((-18.465176, 13.573966), (-16.351928, 9.913712), (-14.238679, 13.573966), align=None)
        Polygon((-20.578425, 9.913712), (-16.351928, 9.913712), (-18.465176, 13.573966), align=None)
        Polygon((-16.351928, 9.913712), (-14.238679, 6.253458), (-12.12543, 9.913712), align=None)
        Polygon((-20.578425, 9.913712), (-18.465176, 6.253458), (-16.351928, 9.913712), align=None)
        Polygon((-18.465176, 6.253458), (-14.238679, 6.253458), (-16.351928, 9.913712), align=None)
        with BuildLine():
            ThreePointArc((-21.351928, 18.573966), (-25.012182, 14.913712), (-26.351928, 9.913712))
            Line((-26.351928, 9.913712), (-21.351928, 18.573966))
        make_face()
        with BuildLine():
            ThreePointArc((-21.351928, 1.253458), (-16.351928, -0.086288), (-11.351928, 1.253458))
            Line((-11.351928, 1.253458), (-21.351928, 1.253458))
        make_face()
        with BuildLine():
            Line((-11.351928, 18.573966), (-6.351928, 9.913712))
            ThreePointArc((-6.351928, 9.913712), (-7.691674, 14.913712), (-11.351928, 18.573966))
        make_face()
        with BuildLine():
            Line((-5.578425, 1.253458), (-4.950733, 0.166263))
            ThreePointArc((-4.950733, 0.166263), (-3.361547, 2.413712), (-2.209792, 4.913712))
            Line((-2.209792, 4.913712), (-3.465176, 4.913712))
            Line((-3.465176, 4.913712), (-5.578425, 1.253458))
        make_face()
        with BuildLine():
            ThreePointArc((2.195208, 2.430146), (0.96858, -0.086288), (-0.597402, -2.406796))
            Line((-0.597402, -2.406796), (0.761321, -2.406796))
            Line((0.761321, -2.406796), (2.87457, 1.253458))
            Line((2.87457, 1.253458), (2.195208, 2.430146))
        make_face()
        with BuildLine():
            ThreePointArc((-19.144538, 29.717785), (-16.351928, 29.913712), (-13.559318, 29.717785))
            Line((-13.559318, 29.717785), (-14.238679, 30.894474))
            Line((-14.238679, 30.894474), (-18.465176, 30.894474))
            Line((-18.465176, 30.894474), (-19.144538, 29.717785))
        make_face()
        with BuildLine():
            Line((-14.238679, 23.573966), (-13.610987, 24.661161))
            ThreePointArc((-13.610987, 24.661161), (-16.351928, 24.913712), (-19.092869, 24.661161))
            Line((-19.092869, 24.661161), (-18.465176, 23.573966))
            Line((-18.465176, 23.573966), (-14.238679, 23.573966))
        make_face()
        with BuildLine():
            Line((-33.465176, -2.406796), (-32.106454, -2.406796))
            ThreePointArc((-32.106454, -2.406796), (-33.672436, -0.086288), (-34.899064, 2.430146))
            Line((-34.899064, 2.430146), (-35.578425, 1.253458))
            Line((-35.578425, 1.253458), (-33.465176, -2.406796))
        make_face()
        with BuildLine():
            ThreePointArc((-30.494063, 4.913712), (-29.342309, 2.413712), (-27.753123, 0.166263))
            Line((-27.753123, 0.166263), (-27.12543, 1.253458))
            Line((-27.12543, 1.253458), (-29.238679, 4.913712))
            Line((-29.238679, 4.913712), (-30.494063, 4.913712))
        make_face()
    extrude(amount=F1_DEPTH)


solid = f1.part
